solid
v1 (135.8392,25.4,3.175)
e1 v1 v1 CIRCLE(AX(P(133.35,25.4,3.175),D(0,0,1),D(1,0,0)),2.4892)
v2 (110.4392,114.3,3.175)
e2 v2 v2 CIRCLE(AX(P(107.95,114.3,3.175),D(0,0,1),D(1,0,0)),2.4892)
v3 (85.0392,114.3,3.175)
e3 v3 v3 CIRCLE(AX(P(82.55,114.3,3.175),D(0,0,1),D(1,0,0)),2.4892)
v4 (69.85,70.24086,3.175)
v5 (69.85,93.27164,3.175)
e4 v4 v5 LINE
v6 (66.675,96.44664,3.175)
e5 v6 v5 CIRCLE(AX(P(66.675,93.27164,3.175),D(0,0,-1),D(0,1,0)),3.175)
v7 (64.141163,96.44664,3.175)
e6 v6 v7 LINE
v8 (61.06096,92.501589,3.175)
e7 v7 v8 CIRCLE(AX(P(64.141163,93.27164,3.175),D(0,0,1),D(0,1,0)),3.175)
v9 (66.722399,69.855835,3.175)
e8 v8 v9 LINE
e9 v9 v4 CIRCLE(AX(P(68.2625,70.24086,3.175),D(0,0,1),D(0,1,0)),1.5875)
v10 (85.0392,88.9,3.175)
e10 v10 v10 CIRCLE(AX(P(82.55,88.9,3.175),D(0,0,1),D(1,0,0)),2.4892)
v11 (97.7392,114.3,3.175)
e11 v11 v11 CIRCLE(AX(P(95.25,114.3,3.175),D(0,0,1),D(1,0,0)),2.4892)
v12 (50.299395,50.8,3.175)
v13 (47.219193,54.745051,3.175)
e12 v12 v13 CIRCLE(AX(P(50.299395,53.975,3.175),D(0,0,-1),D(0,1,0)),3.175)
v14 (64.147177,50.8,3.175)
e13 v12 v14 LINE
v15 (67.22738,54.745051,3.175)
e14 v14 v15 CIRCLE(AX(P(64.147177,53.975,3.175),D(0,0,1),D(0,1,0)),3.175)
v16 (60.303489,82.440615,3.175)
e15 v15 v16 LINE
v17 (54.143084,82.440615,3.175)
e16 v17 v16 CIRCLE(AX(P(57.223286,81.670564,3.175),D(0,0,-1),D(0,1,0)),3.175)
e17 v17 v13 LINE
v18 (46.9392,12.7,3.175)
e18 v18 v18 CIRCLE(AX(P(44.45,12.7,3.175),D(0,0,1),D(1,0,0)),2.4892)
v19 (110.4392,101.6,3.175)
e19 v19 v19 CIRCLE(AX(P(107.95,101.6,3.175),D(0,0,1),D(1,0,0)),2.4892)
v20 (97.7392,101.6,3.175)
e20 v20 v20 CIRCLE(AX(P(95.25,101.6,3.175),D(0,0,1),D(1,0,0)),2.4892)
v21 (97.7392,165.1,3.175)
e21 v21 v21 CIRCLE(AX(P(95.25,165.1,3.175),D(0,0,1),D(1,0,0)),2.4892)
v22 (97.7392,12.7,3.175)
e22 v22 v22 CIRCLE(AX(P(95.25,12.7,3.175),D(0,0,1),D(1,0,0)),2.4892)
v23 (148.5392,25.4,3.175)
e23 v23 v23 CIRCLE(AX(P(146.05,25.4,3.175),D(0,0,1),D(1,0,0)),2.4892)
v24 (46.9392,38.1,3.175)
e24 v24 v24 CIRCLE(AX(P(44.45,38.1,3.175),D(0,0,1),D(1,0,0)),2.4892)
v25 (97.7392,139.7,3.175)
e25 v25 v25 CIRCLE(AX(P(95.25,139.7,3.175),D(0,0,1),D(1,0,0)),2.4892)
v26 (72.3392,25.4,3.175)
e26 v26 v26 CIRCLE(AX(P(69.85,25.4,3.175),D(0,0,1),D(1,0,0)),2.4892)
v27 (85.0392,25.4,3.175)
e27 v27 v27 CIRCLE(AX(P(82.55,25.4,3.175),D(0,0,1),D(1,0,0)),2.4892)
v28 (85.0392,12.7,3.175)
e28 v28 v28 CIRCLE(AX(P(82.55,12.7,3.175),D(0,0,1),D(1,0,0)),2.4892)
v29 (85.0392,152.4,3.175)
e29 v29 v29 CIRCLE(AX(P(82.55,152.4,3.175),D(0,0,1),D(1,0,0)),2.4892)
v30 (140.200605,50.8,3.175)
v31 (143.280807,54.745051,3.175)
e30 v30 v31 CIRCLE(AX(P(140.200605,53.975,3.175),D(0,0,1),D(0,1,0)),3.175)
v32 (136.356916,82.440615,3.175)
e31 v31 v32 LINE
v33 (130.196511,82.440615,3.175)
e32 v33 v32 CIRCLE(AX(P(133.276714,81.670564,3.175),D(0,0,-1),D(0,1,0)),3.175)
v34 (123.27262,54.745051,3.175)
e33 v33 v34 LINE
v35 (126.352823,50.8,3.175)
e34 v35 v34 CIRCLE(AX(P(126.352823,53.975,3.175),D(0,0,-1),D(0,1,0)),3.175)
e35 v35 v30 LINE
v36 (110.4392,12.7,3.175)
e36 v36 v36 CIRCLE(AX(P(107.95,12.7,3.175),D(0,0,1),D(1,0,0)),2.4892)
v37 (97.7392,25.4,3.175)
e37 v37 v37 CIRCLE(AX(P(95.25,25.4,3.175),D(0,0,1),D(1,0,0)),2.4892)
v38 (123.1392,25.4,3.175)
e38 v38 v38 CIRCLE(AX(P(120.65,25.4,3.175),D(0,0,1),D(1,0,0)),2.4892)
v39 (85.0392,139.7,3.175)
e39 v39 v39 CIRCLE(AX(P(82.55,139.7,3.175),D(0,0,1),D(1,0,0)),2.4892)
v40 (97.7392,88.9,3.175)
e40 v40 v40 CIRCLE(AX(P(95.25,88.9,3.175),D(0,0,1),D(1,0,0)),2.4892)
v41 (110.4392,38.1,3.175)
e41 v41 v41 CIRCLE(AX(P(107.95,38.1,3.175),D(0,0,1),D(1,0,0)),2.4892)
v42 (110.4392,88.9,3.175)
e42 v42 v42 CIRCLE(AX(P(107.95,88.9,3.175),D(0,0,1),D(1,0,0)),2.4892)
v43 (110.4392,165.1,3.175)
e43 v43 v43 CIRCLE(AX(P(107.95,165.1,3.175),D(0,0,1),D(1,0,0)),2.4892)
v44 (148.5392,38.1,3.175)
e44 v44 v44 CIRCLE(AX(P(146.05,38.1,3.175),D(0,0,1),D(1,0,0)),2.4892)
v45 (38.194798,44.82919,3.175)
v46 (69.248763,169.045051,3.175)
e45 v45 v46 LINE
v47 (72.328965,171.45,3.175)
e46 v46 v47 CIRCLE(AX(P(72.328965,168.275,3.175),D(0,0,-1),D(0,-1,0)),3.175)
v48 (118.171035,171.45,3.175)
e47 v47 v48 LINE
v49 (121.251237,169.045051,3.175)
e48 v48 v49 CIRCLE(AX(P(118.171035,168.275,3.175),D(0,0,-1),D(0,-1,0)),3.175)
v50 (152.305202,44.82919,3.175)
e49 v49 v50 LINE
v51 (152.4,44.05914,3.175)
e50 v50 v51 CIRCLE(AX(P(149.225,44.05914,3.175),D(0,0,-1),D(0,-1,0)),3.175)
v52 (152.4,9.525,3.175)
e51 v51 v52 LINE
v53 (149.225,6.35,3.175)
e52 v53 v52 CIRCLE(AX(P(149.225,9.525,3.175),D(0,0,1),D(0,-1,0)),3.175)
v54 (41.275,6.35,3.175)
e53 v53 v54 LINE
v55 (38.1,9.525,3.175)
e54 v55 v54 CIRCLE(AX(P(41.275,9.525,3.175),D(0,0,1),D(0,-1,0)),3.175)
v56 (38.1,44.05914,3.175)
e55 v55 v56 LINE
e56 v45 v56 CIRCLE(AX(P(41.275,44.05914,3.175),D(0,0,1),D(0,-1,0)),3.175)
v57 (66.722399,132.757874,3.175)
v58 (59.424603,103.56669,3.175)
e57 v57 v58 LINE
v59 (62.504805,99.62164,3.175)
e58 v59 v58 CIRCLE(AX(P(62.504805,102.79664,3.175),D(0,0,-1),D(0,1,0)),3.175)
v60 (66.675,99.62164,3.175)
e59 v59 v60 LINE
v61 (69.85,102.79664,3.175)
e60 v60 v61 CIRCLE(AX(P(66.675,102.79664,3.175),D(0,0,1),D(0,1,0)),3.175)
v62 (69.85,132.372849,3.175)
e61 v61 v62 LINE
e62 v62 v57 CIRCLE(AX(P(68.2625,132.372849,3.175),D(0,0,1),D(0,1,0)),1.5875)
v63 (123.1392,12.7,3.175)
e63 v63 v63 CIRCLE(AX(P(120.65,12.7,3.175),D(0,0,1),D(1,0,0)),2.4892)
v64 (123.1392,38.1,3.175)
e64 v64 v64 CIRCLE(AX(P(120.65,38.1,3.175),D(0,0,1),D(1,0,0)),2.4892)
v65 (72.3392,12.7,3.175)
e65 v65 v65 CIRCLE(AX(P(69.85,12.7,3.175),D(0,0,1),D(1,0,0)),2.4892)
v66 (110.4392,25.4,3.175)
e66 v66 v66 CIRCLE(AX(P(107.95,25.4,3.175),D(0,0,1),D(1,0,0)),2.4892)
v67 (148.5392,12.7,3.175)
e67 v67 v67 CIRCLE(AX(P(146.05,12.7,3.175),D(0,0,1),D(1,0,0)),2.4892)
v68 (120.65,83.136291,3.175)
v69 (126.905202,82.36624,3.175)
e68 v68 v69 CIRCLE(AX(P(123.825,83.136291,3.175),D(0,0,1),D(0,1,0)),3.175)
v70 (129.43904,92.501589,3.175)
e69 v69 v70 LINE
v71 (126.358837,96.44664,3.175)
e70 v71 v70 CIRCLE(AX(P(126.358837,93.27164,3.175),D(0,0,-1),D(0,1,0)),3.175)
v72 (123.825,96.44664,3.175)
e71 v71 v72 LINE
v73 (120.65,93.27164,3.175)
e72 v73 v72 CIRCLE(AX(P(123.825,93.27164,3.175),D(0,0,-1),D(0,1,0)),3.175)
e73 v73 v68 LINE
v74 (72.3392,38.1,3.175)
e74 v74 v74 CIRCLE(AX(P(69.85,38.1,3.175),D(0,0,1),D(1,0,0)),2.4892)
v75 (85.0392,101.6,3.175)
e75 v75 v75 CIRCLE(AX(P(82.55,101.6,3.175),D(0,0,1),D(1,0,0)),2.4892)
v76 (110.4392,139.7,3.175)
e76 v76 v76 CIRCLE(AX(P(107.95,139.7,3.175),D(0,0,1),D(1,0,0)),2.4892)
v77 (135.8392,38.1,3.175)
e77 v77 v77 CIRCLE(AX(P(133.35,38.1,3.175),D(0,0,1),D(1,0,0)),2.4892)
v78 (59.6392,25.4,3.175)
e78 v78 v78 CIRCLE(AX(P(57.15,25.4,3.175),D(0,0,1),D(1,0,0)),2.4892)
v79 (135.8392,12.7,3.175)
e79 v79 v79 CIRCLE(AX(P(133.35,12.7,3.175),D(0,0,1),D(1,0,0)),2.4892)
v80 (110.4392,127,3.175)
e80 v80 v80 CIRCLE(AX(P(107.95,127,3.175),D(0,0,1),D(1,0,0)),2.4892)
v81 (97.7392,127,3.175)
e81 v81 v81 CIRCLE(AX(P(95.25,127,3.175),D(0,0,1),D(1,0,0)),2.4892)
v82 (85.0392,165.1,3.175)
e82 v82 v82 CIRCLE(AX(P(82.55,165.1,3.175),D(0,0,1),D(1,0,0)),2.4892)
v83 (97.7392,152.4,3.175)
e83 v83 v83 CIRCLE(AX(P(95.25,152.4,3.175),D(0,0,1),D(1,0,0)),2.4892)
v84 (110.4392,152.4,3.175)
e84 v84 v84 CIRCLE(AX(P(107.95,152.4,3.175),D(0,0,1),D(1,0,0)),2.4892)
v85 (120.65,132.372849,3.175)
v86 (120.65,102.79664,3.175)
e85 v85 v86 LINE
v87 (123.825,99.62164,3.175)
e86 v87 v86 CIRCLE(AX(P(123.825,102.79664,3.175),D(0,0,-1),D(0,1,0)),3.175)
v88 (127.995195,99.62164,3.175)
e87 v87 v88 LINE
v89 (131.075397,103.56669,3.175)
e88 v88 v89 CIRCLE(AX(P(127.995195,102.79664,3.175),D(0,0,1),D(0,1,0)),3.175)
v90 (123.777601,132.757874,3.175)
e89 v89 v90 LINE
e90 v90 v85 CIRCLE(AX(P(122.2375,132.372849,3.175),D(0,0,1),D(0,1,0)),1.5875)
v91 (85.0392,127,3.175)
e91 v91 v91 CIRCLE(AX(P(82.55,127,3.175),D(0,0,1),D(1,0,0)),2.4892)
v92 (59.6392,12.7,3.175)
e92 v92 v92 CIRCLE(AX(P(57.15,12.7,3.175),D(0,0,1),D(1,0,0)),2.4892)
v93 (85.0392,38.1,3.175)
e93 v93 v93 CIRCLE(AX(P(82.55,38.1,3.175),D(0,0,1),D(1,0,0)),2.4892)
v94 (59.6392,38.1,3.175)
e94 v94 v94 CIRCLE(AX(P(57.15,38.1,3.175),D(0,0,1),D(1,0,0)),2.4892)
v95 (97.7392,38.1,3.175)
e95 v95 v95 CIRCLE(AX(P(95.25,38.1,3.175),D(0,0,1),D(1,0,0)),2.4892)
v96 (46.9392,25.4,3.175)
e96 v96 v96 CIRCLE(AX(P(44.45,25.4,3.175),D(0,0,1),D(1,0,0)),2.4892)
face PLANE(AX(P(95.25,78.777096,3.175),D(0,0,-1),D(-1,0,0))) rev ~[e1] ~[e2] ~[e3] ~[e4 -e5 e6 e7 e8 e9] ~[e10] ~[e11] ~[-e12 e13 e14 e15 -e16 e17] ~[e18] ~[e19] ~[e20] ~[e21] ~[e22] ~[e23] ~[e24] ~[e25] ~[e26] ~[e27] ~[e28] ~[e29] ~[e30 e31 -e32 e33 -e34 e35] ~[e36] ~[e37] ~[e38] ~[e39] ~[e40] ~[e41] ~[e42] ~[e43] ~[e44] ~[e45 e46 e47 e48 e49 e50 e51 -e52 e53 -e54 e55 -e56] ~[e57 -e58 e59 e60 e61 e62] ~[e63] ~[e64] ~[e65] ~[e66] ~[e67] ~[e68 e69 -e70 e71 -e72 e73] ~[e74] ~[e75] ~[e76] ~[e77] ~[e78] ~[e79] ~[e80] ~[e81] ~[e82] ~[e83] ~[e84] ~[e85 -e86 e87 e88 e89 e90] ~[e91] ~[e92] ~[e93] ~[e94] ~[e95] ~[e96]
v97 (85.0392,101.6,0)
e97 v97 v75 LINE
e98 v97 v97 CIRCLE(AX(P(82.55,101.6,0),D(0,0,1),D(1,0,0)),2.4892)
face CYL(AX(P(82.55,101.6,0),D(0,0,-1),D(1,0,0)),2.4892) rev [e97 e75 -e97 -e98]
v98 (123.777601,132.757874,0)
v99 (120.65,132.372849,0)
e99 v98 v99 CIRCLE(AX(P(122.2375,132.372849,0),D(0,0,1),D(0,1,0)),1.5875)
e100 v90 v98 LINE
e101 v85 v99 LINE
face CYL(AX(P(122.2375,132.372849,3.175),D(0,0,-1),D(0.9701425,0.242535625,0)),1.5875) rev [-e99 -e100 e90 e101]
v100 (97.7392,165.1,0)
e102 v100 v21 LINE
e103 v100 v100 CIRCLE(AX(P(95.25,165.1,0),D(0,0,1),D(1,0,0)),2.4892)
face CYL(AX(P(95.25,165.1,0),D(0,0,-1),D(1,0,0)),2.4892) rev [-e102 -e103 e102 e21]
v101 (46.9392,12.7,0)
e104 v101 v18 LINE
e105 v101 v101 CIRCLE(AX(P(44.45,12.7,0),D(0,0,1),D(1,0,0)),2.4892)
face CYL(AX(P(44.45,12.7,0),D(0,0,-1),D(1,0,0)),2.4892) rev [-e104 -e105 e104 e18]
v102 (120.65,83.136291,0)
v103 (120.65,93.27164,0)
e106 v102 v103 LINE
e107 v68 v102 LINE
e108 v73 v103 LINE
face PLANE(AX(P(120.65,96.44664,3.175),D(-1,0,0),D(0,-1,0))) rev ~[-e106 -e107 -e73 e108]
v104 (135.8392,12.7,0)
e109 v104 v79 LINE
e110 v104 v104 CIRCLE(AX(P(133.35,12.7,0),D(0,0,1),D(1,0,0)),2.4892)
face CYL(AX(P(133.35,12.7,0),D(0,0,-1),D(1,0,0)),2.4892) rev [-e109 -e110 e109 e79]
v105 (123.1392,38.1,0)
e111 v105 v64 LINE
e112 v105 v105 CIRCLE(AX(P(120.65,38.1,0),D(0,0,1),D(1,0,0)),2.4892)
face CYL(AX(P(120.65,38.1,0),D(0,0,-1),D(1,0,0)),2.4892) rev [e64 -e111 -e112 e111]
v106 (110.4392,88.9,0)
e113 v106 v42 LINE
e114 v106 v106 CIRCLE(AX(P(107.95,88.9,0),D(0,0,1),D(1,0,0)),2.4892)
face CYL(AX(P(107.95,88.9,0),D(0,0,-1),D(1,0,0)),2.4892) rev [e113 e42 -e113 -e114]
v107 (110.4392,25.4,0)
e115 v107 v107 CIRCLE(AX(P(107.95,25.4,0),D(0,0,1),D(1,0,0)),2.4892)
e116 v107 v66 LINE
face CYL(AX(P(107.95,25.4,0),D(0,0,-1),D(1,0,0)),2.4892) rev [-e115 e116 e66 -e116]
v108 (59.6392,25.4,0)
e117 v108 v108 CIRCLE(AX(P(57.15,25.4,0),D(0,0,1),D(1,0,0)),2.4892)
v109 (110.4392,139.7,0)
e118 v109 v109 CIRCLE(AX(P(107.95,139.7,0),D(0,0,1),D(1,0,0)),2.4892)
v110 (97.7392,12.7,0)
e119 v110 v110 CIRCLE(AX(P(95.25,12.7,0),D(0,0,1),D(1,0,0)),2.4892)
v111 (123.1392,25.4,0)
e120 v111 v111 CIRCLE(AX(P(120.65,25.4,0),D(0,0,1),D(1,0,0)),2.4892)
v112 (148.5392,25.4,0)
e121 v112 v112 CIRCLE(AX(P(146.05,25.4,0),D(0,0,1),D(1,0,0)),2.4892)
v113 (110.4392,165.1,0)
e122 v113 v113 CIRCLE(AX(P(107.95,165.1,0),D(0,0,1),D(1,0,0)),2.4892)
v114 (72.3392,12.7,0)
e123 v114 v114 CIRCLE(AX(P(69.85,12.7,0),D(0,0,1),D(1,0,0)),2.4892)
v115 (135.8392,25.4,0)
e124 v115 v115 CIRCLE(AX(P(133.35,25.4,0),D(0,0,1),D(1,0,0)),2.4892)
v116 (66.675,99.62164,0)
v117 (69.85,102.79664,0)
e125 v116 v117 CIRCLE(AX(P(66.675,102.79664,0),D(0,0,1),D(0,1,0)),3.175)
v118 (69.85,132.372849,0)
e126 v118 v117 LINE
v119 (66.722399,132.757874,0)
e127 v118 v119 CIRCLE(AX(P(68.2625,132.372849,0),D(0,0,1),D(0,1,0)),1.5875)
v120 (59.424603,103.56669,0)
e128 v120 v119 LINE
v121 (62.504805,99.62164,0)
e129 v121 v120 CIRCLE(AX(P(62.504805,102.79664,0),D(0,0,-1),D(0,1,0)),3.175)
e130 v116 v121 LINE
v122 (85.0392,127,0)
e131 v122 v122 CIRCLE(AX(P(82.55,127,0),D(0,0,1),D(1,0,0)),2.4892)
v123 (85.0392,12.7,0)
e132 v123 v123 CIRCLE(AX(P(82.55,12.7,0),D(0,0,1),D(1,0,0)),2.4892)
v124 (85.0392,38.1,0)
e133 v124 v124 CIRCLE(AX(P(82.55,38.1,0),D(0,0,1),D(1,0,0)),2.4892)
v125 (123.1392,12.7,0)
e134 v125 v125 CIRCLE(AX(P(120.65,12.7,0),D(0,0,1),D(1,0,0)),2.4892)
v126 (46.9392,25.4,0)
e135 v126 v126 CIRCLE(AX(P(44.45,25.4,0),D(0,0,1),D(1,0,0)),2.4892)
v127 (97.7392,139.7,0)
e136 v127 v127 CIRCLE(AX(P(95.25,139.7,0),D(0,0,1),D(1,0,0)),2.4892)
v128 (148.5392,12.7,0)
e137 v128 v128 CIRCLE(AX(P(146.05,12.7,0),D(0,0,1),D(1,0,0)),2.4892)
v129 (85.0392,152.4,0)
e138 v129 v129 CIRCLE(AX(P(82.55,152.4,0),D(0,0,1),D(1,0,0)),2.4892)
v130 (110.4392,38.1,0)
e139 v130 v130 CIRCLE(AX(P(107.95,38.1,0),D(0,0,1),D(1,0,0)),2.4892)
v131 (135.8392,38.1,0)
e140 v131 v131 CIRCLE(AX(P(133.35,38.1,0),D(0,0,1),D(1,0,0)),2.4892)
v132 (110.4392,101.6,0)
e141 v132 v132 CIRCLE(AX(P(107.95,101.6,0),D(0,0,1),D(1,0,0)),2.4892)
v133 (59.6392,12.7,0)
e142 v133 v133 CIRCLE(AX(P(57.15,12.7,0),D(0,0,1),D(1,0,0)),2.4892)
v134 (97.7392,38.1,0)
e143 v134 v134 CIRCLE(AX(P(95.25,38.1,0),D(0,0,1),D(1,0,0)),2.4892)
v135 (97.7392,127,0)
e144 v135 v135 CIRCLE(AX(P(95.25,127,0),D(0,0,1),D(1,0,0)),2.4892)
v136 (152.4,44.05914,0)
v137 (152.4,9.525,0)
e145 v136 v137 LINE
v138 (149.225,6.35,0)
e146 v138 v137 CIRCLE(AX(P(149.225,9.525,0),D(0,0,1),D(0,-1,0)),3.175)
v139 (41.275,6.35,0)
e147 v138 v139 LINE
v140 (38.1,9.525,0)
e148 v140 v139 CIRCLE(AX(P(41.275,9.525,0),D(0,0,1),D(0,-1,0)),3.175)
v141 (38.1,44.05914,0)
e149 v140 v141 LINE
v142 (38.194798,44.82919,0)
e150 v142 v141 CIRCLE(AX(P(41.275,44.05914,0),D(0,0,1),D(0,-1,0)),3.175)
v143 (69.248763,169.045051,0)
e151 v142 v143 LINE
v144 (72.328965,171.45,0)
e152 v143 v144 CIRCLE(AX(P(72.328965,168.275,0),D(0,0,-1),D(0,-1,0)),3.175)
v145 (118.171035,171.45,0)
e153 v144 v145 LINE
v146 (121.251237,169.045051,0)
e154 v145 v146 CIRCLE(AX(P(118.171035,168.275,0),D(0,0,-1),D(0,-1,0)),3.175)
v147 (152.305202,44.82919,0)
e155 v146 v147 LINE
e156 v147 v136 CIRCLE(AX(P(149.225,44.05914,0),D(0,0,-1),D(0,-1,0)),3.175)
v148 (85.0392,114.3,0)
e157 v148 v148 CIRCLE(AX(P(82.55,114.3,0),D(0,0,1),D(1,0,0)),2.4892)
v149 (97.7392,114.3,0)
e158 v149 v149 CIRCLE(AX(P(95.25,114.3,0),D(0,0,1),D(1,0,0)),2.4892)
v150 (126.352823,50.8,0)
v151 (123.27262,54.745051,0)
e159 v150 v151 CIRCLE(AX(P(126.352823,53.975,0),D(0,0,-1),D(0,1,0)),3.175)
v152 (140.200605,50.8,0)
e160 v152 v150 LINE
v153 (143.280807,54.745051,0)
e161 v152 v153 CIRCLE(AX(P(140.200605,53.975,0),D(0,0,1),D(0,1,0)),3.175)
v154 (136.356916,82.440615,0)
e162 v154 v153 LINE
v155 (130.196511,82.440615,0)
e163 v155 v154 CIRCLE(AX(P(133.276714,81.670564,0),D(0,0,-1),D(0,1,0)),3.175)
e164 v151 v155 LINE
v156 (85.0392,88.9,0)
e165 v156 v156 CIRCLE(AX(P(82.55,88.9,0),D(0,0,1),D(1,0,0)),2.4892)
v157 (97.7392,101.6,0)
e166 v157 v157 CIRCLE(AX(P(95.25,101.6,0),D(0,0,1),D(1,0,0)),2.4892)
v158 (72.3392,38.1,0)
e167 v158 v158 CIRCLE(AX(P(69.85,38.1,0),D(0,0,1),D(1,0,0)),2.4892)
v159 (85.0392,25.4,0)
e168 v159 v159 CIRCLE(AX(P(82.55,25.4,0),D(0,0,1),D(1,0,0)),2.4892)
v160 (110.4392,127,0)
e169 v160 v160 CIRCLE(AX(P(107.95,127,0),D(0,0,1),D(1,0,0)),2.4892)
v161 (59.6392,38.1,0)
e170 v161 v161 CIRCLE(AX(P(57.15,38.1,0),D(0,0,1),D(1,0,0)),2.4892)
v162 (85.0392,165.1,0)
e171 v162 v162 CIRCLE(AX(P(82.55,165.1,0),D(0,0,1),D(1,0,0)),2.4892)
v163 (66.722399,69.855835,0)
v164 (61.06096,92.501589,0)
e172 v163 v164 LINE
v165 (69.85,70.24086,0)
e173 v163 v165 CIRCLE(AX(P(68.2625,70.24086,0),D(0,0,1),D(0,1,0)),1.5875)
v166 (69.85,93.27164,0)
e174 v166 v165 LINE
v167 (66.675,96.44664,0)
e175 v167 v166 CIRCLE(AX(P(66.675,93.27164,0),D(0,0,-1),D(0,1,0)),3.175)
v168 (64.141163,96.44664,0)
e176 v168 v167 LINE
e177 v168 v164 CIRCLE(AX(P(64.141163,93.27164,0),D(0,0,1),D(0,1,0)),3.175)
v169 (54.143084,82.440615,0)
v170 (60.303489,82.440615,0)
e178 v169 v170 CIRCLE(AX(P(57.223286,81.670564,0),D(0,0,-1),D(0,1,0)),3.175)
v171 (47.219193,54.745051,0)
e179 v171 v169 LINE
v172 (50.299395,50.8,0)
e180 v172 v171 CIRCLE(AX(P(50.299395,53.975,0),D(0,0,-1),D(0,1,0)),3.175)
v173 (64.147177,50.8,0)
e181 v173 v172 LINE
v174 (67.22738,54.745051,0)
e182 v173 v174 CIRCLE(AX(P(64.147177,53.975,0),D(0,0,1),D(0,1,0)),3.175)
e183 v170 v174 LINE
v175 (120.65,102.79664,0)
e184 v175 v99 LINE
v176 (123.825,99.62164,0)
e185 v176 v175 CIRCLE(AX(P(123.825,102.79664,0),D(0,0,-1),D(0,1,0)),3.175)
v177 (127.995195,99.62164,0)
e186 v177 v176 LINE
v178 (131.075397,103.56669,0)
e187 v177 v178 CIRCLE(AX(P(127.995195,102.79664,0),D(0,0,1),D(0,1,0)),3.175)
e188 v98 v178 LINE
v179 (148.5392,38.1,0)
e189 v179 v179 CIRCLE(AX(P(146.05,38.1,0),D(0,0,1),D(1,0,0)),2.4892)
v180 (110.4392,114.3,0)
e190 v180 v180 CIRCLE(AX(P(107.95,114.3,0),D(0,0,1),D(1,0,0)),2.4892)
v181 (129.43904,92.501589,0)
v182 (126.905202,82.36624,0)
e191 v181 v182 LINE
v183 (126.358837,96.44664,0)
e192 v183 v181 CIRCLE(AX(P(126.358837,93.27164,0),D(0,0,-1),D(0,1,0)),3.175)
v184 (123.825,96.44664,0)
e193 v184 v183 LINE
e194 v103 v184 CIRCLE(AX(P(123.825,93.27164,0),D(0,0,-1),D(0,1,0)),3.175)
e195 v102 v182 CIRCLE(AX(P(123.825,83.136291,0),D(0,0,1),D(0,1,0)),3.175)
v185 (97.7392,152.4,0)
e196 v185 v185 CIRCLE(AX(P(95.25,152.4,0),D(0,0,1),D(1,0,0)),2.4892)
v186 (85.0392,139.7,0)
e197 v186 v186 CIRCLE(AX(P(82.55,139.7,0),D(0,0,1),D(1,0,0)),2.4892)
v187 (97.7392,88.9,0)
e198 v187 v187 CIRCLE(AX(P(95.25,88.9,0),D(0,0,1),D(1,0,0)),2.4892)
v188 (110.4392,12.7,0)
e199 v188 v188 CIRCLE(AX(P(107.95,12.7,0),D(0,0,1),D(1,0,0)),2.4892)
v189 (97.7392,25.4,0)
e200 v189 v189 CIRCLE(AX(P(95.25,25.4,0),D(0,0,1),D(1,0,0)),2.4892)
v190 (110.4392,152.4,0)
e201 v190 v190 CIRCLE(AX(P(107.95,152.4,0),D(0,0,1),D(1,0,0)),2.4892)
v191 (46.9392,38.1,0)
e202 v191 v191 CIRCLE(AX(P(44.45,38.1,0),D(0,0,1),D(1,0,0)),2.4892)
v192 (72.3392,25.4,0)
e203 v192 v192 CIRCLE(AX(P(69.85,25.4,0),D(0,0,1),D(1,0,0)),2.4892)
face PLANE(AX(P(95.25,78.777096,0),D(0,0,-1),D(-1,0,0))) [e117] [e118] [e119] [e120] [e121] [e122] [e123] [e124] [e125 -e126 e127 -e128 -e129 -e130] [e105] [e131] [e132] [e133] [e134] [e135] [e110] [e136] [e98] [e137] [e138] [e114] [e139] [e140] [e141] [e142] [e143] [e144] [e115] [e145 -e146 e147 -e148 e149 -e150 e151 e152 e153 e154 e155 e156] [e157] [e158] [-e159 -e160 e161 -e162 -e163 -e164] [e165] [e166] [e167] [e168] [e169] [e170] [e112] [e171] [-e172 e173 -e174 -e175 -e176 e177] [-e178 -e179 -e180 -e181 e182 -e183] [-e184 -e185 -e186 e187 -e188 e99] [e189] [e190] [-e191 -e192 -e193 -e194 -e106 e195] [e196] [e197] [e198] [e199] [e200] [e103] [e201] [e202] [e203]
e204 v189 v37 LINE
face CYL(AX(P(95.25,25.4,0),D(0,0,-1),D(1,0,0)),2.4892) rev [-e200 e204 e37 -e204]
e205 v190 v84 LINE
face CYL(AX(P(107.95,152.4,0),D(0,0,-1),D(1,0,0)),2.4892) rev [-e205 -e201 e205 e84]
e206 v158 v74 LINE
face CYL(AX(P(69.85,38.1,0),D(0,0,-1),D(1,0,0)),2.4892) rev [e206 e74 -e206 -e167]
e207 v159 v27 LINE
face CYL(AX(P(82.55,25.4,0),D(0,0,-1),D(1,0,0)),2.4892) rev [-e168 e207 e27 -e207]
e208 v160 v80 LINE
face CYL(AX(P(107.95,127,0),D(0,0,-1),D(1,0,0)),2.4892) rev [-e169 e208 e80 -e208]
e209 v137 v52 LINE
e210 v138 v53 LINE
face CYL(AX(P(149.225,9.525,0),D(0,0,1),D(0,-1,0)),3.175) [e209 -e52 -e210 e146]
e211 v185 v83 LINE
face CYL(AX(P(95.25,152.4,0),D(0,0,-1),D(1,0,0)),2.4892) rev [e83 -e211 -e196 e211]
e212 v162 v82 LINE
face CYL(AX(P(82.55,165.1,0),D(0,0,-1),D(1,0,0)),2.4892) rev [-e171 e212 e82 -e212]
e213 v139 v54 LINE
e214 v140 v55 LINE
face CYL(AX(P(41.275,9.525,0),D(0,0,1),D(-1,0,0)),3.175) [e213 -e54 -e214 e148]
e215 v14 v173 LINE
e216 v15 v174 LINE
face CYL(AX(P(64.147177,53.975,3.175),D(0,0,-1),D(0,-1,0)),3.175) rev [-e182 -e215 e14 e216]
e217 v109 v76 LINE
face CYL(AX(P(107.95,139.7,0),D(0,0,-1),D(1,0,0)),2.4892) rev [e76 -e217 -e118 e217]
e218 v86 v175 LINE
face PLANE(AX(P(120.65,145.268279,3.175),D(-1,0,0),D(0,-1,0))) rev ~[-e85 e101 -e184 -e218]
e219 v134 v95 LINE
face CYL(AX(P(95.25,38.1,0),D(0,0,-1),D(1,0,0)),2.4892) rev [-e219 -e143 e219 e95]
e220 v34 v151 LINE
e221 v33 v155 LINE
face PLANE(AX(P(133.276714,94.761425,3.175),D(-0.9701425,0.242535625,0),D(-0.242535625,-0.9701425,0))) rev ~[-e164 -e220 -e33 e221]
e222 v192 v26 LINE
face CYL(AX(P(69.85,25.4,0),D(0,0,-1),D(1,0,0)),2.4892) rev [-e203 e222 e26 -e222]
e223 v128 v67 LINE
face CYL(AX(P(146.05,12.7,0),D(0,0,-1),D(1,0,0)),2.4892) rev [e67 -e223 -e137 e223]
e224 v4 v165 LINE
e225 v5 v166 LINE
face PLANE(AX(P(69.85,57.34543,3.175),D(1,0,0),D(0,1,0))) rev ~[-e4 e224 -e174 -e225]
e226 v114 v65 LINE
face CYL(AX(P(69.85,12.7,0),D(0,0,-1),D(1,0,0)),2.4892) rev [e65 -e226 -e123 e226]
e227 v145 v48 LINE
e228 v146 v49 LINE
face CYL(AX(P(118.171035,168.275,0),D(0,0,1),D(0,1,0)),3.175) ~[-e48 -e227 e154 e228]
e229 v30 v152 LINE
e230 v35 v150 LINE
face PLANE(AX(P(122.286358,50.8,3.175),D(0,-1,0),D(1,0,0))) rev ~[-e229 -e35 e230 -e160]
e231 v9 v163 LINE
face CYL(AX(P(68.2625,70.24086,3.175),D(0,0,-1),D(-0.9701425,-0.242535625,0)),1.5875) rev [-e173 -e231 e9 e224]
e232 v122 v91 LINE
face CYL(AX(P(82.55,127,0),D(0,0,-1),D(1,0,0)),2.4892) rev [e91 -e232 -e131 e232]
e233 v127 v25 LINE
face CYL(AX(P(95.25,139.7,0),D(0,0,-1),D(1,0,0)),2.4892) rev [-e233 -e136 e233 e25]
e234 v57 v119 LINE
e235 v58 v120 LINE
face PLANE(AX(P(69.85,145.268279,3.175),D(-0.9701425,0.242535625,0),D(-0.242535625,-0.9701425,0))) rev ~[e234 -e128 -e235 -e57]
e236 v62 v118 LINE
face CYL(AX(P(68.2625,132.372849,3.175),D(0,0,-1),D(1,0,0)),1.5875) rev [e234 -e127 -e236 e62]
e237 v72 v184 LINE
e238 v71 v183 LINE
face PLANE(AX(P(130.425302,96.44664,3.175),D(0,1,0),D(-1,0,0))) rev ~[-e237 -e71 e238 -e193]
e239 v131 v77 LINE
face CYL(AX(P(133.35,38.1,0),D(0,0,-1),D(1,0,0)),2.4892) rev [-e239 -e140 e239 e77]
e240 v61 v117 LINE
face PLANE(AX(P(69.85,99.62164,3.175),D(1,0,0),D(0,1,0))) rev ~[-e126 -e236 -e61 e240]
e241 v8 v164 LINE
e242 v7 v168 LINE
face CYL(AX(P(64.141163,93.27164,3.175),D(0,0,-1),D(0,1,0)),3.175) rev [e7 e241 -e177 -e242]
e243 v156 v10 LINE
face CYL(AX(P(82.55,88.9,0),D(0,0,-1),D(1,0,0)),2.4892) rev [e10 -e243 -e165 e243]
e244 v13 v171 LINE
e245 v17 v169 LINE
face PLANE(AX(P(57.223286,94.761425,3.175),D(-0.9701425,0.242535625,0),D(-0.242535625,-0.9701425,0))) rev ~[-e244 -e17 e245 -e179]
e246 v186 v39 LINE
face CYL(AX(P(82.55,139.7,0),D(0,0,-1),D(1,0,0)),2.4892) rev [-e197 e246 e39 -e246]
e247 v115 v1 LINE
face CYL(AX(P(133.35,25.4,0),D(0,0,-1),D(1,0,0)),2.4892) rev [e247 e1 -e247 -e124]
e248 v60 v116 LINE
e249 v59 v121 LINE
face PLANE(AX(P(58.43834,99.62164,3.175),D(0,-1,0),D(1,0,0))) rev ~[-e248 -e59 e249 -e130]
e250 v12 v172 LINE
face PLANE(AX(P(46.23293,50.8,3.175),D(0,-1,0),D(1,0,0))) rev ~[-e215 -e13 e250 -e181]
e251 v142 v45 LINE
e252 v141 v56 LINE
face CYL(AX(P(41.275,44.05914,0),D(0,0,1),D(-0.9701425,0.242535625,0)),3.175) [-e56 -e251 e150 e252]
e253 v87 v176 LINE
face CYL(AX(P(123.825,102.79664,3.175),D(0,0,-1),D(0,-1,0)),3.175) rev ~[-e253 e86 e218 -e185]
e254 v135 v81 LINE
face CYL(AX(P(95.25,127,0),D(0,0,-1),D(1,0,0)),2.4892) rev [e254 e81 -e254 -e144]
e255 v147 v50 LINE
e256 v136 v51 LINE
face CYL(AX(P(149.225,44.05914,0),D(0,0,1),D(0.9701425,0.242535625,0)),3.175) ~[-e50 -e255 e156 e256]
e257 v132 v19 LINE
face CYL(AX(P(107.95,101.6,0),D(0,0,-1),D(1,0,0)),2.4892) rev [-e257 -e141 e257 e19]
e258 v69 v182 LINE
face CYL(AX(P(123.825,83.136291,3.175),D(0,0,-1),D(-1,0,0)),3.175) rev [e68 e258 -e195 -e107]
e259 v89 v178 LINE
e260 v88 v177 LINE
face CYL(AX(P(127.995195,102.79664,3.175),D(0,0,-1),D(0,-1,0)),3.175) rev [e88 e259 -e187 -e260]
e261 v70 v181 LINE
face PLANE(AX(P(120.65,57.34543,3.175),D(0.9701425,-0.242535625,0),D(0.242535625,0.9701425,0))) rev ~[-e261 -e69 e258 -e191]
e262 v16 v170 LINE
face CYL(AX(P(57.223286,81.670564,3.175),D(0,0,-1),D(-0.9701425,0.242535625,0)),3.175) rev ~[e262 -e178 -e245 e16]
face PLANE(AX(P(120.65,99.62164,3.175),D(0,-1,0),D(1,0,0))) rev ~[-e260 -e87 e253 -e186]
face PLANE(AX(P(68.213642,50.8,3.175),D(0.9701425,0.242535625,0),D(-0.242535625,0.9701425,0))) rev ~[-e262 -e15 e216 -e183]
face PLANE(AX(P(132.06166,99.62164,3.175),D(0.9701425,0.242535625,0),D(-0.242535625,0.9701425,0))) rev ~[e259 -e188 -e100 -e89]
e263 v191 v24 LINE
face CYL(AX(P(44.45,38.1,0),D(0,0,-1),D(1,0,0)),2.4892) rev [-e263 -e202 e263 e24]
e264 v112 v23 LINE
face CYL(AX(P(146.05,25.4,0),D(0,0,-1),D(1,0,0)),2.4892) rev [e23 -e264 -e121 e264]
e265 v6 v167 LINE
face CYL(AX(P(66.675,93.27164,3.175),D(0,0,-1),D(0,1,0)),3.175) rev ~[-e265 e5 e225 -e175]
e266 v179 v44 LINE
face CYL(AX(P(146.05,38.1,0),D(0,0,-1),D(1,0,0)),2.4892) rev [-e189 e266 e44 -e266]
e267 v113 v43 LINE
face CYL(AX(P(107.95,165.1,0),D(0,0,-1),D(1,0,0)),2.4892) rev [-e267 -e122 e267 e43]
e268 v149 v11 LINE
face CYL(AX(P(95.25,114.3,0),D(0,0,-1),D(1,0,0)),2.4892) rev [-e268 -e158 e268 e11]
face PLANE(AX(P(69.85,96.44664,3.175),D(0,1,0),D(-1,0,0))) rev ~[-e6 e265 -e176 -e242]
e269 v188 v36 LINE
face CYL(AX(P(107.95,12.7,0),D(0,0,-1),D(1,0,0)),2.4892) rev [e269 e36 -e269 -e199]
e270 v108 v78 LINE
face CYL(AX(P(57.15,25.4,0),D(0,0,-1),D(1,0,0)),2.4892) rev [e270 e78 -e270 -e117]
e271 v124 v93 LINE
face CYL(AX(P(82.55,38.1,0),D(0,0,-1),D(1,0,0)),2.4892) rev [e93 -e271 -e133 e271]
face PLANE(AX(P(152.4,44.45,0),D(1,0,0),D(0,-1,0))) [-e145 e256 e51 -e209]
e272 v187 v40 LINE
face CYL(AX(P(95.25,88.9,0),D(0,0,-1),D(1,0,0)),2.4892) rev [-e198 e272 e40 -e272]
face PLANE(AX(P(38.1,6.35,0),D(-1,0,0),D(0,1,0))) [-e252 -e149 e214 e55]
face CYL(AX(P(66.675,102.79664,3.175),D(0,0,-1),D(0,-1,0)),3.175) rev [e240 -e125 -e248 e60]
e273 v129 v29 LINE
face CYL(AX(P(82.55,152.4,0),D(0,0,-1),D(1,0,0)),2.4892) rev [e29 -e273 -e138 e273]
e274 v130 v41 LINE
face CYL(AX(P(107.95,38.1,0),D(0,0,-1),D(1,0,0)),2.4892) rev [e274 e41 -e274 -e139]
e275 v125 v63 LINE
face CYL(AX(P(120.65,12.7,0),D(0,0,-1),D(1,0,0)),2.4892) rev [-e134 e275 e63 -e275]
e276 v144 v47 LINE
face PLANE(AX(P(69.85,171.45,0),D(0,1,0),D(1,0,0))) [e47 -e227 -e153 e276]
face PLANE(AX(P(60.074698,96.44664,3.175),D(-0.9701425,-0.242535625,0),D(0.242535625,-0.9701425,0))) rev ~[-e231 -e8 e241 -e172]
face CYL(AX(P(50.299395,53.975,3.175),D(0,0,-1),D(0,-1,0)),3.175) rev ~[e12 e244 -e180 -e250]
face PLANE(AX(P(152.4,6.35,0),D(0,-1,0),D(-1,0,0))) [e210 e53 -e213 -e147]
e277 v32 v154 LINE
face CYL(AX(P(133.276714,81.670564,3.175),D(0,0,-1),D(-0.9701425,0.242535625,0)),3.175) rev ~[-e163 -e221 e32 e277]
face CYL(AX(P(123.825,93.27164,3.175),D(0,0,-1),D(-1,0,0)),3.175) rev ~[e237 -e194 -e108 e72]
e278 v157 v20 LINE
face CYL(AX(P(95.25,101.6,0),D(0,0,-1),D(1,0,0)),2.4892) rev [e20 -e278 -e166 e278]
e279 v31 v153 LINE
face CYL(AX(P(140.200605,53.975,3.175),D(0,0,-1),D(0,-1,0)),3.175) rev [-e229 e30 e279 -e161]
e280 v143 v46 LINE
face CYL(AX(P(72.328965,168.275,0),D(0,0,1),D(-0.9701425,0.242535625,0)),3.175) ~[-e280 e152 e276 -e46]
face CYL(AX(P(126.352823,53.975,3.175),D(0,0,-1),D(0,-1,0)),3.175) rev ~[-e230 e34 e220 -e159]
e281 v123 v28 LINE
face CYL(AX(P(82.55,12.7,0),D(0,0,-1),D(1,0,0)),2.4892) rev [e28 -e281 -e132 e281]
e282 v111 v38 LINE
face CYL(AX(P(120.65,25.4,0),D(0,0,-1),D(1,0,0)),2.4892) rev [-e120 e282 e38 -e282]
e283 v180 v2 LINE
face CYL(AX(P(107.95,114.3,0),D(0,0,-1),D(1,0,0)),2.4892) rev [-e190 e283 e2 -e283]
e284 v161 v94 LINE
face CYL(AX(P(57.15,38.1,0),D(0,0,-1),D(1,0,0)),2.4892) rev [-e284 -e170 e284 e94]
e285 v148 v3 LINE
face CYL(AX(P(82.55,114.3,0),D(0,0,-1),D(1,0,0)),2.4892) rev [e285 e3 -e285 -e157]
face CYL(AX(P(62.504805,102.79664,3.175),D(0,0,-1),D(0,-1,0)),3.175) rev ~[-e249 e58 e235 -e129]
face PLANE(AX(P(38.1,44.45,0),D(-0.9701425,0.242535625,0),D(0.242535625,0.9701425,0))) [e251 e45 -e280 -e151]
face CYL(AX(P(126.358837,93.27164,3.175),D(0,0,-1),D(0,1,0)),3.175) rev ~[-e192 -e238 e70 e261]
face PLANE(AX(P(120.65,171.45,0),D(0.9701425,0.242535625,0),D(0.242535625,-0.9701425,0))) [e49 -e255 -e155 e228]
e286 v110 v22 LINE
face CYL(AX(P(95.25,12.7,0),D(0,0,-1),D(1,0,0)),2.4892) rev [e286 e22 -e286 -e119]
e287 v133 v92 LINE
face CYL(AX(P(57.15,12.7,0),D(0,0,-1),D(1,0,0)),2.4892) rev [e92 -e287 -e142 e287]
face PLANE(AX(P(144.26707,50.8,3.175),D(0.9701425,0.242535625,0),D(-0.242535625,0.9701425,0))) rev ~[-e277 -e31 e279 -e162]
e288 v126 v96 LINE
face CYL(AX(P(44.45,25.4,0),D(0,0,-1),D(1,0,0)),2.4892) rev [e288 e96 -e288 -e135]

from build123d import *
from OCP.BRepFilletAPI import BRepFilletAPI_MakeFillet

# Parameters (mm, degrees)
SKETCH1_R           = 2.4892
BOSS_EXTRUDE1_DEPTH = 3.175
CUT_EXTRUDE1_DEPTH  = 230.414348124
FILLET1_R1          = 3.175
FILLET1_R2          = 1.5875
FILLET2_R           = 3.175


with BuildPart() as part:
    # Sketch1 → Boss-Extrude1 (new body)
    with BuildSketch(Plane.XY):
        Polygon((69.85, 171.45), (38.1, 44.45), (38.1, 6.35), (152.4, 6.35), (152.4, 44.45), (120.65, 171.45), align=None)
        with Locations((107.95, 152.4)):
            Circle(SKETCH1_R, mode=Mode.SUBTRACT)
        with Locations((107.95, 139.7)):
            Circle(SKETCH1_R, mode=Mode.SUBTRACT)
        with Locations((107.95, 165.1)):
            Circle(SKETCH1_R, mode=Mode.SUBTRACT)
        with Locations((82.55, 88.9)):
            Circle(SKETCH1_R, mode=Mode.SUBTRACT)
        with Locations((95.25, 88.9)):
            Circle(SKETCH1_R, mode=Mode.SUBTRACT)
        with Locations((82.55, 101.6)):
            Circle(SKETCH1_R, mode=Mode.SUBTRACT)
        with Locations((95.25, 101.6)):
            Circle(SKETCH1_R, mode=Mode.SUBTRACT)
        with Locations((82.55, 114.3)):
            Circle(SKETCH1_R, mode=Mode.SUBTRACT)
        with Locations((95.25, 114.3)):
            Circle(SKETCH1_R, mode=Mode.SUBTRACT)
        with Locations((107.95, 88.9)):
            Circle(SKETCH1_R, mode=Mode.SUBTRACT)
        with Locations((107.95, 101.6)):
            Circle(SKETCH1_R, mode=Mode.SUBTRACT)
        with Locations((107.95, 114.3)):
            Circle(SKETCH1_R, mode=Mode.SUBTRACT)
        with Locations((82.55, 127)):
            Circle(SKETCH1_R, mode=Mode.SUBTRACT)
        with Locations((95.25, 127)):
            Circle(SKETCH1_R, mode=Mode.SUBTRACT)
        with Locations((82.55, 139.7)):
            Circle(SKETCH1_R, mode=Mode.SUBTRACT)
        with Locations((95.25, 139.7)):
            Circle(SKETCH1_R, mode=Mode.SUBTRACT)
        with Locations((82.55, 152.4)):
            Circle(SKETCH1_R, mode=Mode.SUBTRACT)
        with Locations((95.25, 152.4)):
            Circle(SKETCH1_R, mode=Mode.SUBTRACT)
        with Locations((82.55, 165.1)):
            Circle(SKETCH1_R, mode=Mode.SUBTRACT)
        with Locations((95.25, 165.1)):
            Circle(SKETCH1_R, mode=Mode.SUBTRACT)
        with Locations((107.95, 127)):
            Circle(SKETCH1_R, mode=Mode.SUBTRACT)
        with Locations((146.05, 38.1)):
            Circle(SKETCH1_R, mode=Mode.SUBTRACT)
        with Locations((44.45, 12.7)):
            Circle(SKETCH1_R, mode=Mode.SUBTRACT)
        with Locations((44.45, 25.4)):
            Circle(SKETCH1_R, mode=Mode.SUBTRACT)
        with Locations((44.45, 38.1)):
            Circle(SKETCH1_R, mode=Mode.SUBTRACT)
        with Locations((57.15, 12.7)):
            Circle(SKETCH1_R, mode=Mode.SUBTRACT)
        with Locations((69.85, 12.7)):
            Circle(SKETCH1_R, mode=Mode.SUBTRACT)
        with Locations((57.15, 25.4)):
            Circle(SKETCH1_R, mode=Mode.SUBTRACT)
        with Locations((69.85, 25.4)):
            Circle(SKETCH1_R, mode=Mode.SUBTRACT)
        with Locations((82.55, 12.7)):
            Circle(SKETCH1_R, mode=Mode.SUBTRACT)
        with Locations((95.25, 12.7)):
            Circle(SKETCH1_R, mode=Mode.SUBTRACT)
        with Locations((82.55, 25.4)):
            Circle(SKETCH1_R, mode=Mode.SUBTRACT)
        with Locations((95.25, 25.4)):
            Circle(SKETCH1_R, mode=Mode.SUBTRACT)
        with Locations((57.15, 38.1)):
            Circle(SKETCH1_R, mode=Mode.SUBTRACT)
        with Locations((69.85, 38.1)):
            Circle(SKETCH1_R, mode=Mode.SUBTRACT)
        with Locations((82.55, 38.1)):
            Circle(SKETCH1_R, mode=Mode.SUBTRACT)
        with Locations((95.25, 38.1)):
            Circle(SKETCH1_R, mode=Mode.SUBTRACT)
        with Locations((107.95, 12.7)):
            Circle(SKETCH1_R, mode=Mode.SUBTRACT)
        with Locations((120.65, 12.7)):
            Circle(SKETCH1_R, mode=Mode.SUBTRACT)
        with Locations((107.95, 25.4)):
            Circle(SKETCH1_R, mode=Mode.SUBTRACT)
        with Locations((120.65, 25.4)):
            Circle(SKETCH1_R, mode=Mode.SUBTRACT)
        with Locations((133.35, 12.7)):
            Circle(SKETCH1_R, mode=Mode.SUBTRACT)
        with Locations((146.05, 12.7)):
            Circle(SKETCH1_R, mode=Mode.SUBTRACT)
        with Locations((133.35, 25.4)):
            Circle(SKETCH1_R, mode=Mode.SUBTRACT)
        with Locations((146.05, 25.4)):
            Circle(SKETCH1_R, mode=Mode.SUBTRACT)
        with Locations((107.95, 38.1)):
            Circle(SKETCH1_R, mode=Mode.SUBTRACT)
        with Locations((120.65, 38.1)):
            Circle(SKETCH1_R, mode=Mode.SUBTRACT)
        with Locations((133.35, 38.1)):
            Circle(SKETCH1_R, mode=Mode.SUBTRACT)
    extrude(amount=BOSS_EXTRUDE1_DEPTH)

    # Sketch2 → Cut-Extrude1 (cut, through all)
    with BuildSketch(Plane.XY.offset(3.175)):
        Polygon((122.286357545, 50.8), (144.267069819, 50.8), (133.276713682, 94.761424548), align=None)
        Polygon((120.65, 99.621639639), (132.06165991, 99.621639639), (120.65, 145.268279277), align=None)
        Polygon((120.65, 96.446639639), (120.65, 57.345430181), (130.425302364, 96.446639639), align=None)
        Polygon((69.85, 96.446639639), (60.074697636, 96.446639639), (69.85, 57.345430181), align=None)
        Polygon((58.43834009, 99.621639639), (69.85, 99.621639639), (69.85, 145.268279277), align=None)
        Polygon((46.232930181, 50.8), (68.213642455, 50.8), (57.223286318, 94.761424548), align=None)
    extrude(amount=-CUT_EXTRUDE1_DEPTH, mode=Mode.SUBTRACT)

    # Fillet1: one fillet with a radius per group of edges: ONE call of the kernel's fillet builder (fillet() takes one radius for all edges)
    fillet1_edges_1 = [part.edges().sort_by_distance(p)[0] for p in [
        (46.232930181, 50.8, 1.5875),
        (57.223286318, 94.761424548, 1.5875),
        (68.213642455, 50.8, 1.5875),
        (60.074697636, 96.446639639, 1.5875),
        (69.85, 96.446639639, 1.5875),
        (69.85, 99.621639639, 1.5875),
        (58.43834009, 99.621639639, 1.5875),
        (120.65, 57.345430181, 1.5875),
        (132.06165991, 99.621639639, 1.5875),
        (120.65, 99.621639639, 1.5875),
        (120.65, 96.446639639, 1.5875),
        (130.425302364, 96.446639639, 1.5875),
        (133.276713682, 94.761424548, 1.5875),
        (122.286357545, 50.8, 1.5875),
        (144.267069819, 50.8, 1.5875),
    ]]
    fillet1_edges_2 = [part.edges().sort_by_distance(p)[0] for p in [
        (69.85, 145.268279277, 1.5875),
        (69.85, 57.345430181, 1.5875),
        (120.65, 145.268279277, 1.5875),
    ]]
    fillet1 = BRepFilletAPI_MakeFillet(part.part.solid().wrapped)
    for e in fillet1_edges_1:
        fillet1.Add(FILLET1_R1, e.wrapped)
    for e in fillet1_edges_2:
        fillet1.Add(FILLET1_R2, e.wrapped)
    add(Compound.cast(fillet1.Shape()), mode=Mode.REPLACE)

    # Fillet2
    fillet2_edges = [part.edges().sort_by_distance(p)[0] for p in [
        (120.65, 171.45, 1.5875),
        (152.4, 44.45, 1.5875),
        (152.4, 6.35, 1.5875),
        (38.1, 6.35, 1.5875),
        (38.1, 44.45, 1.5875),
        (69.85, 171.45, 1.5875),
    ]]
    fillet(fillet2_edges, radius=FILLET2_R)


solid = part.part
